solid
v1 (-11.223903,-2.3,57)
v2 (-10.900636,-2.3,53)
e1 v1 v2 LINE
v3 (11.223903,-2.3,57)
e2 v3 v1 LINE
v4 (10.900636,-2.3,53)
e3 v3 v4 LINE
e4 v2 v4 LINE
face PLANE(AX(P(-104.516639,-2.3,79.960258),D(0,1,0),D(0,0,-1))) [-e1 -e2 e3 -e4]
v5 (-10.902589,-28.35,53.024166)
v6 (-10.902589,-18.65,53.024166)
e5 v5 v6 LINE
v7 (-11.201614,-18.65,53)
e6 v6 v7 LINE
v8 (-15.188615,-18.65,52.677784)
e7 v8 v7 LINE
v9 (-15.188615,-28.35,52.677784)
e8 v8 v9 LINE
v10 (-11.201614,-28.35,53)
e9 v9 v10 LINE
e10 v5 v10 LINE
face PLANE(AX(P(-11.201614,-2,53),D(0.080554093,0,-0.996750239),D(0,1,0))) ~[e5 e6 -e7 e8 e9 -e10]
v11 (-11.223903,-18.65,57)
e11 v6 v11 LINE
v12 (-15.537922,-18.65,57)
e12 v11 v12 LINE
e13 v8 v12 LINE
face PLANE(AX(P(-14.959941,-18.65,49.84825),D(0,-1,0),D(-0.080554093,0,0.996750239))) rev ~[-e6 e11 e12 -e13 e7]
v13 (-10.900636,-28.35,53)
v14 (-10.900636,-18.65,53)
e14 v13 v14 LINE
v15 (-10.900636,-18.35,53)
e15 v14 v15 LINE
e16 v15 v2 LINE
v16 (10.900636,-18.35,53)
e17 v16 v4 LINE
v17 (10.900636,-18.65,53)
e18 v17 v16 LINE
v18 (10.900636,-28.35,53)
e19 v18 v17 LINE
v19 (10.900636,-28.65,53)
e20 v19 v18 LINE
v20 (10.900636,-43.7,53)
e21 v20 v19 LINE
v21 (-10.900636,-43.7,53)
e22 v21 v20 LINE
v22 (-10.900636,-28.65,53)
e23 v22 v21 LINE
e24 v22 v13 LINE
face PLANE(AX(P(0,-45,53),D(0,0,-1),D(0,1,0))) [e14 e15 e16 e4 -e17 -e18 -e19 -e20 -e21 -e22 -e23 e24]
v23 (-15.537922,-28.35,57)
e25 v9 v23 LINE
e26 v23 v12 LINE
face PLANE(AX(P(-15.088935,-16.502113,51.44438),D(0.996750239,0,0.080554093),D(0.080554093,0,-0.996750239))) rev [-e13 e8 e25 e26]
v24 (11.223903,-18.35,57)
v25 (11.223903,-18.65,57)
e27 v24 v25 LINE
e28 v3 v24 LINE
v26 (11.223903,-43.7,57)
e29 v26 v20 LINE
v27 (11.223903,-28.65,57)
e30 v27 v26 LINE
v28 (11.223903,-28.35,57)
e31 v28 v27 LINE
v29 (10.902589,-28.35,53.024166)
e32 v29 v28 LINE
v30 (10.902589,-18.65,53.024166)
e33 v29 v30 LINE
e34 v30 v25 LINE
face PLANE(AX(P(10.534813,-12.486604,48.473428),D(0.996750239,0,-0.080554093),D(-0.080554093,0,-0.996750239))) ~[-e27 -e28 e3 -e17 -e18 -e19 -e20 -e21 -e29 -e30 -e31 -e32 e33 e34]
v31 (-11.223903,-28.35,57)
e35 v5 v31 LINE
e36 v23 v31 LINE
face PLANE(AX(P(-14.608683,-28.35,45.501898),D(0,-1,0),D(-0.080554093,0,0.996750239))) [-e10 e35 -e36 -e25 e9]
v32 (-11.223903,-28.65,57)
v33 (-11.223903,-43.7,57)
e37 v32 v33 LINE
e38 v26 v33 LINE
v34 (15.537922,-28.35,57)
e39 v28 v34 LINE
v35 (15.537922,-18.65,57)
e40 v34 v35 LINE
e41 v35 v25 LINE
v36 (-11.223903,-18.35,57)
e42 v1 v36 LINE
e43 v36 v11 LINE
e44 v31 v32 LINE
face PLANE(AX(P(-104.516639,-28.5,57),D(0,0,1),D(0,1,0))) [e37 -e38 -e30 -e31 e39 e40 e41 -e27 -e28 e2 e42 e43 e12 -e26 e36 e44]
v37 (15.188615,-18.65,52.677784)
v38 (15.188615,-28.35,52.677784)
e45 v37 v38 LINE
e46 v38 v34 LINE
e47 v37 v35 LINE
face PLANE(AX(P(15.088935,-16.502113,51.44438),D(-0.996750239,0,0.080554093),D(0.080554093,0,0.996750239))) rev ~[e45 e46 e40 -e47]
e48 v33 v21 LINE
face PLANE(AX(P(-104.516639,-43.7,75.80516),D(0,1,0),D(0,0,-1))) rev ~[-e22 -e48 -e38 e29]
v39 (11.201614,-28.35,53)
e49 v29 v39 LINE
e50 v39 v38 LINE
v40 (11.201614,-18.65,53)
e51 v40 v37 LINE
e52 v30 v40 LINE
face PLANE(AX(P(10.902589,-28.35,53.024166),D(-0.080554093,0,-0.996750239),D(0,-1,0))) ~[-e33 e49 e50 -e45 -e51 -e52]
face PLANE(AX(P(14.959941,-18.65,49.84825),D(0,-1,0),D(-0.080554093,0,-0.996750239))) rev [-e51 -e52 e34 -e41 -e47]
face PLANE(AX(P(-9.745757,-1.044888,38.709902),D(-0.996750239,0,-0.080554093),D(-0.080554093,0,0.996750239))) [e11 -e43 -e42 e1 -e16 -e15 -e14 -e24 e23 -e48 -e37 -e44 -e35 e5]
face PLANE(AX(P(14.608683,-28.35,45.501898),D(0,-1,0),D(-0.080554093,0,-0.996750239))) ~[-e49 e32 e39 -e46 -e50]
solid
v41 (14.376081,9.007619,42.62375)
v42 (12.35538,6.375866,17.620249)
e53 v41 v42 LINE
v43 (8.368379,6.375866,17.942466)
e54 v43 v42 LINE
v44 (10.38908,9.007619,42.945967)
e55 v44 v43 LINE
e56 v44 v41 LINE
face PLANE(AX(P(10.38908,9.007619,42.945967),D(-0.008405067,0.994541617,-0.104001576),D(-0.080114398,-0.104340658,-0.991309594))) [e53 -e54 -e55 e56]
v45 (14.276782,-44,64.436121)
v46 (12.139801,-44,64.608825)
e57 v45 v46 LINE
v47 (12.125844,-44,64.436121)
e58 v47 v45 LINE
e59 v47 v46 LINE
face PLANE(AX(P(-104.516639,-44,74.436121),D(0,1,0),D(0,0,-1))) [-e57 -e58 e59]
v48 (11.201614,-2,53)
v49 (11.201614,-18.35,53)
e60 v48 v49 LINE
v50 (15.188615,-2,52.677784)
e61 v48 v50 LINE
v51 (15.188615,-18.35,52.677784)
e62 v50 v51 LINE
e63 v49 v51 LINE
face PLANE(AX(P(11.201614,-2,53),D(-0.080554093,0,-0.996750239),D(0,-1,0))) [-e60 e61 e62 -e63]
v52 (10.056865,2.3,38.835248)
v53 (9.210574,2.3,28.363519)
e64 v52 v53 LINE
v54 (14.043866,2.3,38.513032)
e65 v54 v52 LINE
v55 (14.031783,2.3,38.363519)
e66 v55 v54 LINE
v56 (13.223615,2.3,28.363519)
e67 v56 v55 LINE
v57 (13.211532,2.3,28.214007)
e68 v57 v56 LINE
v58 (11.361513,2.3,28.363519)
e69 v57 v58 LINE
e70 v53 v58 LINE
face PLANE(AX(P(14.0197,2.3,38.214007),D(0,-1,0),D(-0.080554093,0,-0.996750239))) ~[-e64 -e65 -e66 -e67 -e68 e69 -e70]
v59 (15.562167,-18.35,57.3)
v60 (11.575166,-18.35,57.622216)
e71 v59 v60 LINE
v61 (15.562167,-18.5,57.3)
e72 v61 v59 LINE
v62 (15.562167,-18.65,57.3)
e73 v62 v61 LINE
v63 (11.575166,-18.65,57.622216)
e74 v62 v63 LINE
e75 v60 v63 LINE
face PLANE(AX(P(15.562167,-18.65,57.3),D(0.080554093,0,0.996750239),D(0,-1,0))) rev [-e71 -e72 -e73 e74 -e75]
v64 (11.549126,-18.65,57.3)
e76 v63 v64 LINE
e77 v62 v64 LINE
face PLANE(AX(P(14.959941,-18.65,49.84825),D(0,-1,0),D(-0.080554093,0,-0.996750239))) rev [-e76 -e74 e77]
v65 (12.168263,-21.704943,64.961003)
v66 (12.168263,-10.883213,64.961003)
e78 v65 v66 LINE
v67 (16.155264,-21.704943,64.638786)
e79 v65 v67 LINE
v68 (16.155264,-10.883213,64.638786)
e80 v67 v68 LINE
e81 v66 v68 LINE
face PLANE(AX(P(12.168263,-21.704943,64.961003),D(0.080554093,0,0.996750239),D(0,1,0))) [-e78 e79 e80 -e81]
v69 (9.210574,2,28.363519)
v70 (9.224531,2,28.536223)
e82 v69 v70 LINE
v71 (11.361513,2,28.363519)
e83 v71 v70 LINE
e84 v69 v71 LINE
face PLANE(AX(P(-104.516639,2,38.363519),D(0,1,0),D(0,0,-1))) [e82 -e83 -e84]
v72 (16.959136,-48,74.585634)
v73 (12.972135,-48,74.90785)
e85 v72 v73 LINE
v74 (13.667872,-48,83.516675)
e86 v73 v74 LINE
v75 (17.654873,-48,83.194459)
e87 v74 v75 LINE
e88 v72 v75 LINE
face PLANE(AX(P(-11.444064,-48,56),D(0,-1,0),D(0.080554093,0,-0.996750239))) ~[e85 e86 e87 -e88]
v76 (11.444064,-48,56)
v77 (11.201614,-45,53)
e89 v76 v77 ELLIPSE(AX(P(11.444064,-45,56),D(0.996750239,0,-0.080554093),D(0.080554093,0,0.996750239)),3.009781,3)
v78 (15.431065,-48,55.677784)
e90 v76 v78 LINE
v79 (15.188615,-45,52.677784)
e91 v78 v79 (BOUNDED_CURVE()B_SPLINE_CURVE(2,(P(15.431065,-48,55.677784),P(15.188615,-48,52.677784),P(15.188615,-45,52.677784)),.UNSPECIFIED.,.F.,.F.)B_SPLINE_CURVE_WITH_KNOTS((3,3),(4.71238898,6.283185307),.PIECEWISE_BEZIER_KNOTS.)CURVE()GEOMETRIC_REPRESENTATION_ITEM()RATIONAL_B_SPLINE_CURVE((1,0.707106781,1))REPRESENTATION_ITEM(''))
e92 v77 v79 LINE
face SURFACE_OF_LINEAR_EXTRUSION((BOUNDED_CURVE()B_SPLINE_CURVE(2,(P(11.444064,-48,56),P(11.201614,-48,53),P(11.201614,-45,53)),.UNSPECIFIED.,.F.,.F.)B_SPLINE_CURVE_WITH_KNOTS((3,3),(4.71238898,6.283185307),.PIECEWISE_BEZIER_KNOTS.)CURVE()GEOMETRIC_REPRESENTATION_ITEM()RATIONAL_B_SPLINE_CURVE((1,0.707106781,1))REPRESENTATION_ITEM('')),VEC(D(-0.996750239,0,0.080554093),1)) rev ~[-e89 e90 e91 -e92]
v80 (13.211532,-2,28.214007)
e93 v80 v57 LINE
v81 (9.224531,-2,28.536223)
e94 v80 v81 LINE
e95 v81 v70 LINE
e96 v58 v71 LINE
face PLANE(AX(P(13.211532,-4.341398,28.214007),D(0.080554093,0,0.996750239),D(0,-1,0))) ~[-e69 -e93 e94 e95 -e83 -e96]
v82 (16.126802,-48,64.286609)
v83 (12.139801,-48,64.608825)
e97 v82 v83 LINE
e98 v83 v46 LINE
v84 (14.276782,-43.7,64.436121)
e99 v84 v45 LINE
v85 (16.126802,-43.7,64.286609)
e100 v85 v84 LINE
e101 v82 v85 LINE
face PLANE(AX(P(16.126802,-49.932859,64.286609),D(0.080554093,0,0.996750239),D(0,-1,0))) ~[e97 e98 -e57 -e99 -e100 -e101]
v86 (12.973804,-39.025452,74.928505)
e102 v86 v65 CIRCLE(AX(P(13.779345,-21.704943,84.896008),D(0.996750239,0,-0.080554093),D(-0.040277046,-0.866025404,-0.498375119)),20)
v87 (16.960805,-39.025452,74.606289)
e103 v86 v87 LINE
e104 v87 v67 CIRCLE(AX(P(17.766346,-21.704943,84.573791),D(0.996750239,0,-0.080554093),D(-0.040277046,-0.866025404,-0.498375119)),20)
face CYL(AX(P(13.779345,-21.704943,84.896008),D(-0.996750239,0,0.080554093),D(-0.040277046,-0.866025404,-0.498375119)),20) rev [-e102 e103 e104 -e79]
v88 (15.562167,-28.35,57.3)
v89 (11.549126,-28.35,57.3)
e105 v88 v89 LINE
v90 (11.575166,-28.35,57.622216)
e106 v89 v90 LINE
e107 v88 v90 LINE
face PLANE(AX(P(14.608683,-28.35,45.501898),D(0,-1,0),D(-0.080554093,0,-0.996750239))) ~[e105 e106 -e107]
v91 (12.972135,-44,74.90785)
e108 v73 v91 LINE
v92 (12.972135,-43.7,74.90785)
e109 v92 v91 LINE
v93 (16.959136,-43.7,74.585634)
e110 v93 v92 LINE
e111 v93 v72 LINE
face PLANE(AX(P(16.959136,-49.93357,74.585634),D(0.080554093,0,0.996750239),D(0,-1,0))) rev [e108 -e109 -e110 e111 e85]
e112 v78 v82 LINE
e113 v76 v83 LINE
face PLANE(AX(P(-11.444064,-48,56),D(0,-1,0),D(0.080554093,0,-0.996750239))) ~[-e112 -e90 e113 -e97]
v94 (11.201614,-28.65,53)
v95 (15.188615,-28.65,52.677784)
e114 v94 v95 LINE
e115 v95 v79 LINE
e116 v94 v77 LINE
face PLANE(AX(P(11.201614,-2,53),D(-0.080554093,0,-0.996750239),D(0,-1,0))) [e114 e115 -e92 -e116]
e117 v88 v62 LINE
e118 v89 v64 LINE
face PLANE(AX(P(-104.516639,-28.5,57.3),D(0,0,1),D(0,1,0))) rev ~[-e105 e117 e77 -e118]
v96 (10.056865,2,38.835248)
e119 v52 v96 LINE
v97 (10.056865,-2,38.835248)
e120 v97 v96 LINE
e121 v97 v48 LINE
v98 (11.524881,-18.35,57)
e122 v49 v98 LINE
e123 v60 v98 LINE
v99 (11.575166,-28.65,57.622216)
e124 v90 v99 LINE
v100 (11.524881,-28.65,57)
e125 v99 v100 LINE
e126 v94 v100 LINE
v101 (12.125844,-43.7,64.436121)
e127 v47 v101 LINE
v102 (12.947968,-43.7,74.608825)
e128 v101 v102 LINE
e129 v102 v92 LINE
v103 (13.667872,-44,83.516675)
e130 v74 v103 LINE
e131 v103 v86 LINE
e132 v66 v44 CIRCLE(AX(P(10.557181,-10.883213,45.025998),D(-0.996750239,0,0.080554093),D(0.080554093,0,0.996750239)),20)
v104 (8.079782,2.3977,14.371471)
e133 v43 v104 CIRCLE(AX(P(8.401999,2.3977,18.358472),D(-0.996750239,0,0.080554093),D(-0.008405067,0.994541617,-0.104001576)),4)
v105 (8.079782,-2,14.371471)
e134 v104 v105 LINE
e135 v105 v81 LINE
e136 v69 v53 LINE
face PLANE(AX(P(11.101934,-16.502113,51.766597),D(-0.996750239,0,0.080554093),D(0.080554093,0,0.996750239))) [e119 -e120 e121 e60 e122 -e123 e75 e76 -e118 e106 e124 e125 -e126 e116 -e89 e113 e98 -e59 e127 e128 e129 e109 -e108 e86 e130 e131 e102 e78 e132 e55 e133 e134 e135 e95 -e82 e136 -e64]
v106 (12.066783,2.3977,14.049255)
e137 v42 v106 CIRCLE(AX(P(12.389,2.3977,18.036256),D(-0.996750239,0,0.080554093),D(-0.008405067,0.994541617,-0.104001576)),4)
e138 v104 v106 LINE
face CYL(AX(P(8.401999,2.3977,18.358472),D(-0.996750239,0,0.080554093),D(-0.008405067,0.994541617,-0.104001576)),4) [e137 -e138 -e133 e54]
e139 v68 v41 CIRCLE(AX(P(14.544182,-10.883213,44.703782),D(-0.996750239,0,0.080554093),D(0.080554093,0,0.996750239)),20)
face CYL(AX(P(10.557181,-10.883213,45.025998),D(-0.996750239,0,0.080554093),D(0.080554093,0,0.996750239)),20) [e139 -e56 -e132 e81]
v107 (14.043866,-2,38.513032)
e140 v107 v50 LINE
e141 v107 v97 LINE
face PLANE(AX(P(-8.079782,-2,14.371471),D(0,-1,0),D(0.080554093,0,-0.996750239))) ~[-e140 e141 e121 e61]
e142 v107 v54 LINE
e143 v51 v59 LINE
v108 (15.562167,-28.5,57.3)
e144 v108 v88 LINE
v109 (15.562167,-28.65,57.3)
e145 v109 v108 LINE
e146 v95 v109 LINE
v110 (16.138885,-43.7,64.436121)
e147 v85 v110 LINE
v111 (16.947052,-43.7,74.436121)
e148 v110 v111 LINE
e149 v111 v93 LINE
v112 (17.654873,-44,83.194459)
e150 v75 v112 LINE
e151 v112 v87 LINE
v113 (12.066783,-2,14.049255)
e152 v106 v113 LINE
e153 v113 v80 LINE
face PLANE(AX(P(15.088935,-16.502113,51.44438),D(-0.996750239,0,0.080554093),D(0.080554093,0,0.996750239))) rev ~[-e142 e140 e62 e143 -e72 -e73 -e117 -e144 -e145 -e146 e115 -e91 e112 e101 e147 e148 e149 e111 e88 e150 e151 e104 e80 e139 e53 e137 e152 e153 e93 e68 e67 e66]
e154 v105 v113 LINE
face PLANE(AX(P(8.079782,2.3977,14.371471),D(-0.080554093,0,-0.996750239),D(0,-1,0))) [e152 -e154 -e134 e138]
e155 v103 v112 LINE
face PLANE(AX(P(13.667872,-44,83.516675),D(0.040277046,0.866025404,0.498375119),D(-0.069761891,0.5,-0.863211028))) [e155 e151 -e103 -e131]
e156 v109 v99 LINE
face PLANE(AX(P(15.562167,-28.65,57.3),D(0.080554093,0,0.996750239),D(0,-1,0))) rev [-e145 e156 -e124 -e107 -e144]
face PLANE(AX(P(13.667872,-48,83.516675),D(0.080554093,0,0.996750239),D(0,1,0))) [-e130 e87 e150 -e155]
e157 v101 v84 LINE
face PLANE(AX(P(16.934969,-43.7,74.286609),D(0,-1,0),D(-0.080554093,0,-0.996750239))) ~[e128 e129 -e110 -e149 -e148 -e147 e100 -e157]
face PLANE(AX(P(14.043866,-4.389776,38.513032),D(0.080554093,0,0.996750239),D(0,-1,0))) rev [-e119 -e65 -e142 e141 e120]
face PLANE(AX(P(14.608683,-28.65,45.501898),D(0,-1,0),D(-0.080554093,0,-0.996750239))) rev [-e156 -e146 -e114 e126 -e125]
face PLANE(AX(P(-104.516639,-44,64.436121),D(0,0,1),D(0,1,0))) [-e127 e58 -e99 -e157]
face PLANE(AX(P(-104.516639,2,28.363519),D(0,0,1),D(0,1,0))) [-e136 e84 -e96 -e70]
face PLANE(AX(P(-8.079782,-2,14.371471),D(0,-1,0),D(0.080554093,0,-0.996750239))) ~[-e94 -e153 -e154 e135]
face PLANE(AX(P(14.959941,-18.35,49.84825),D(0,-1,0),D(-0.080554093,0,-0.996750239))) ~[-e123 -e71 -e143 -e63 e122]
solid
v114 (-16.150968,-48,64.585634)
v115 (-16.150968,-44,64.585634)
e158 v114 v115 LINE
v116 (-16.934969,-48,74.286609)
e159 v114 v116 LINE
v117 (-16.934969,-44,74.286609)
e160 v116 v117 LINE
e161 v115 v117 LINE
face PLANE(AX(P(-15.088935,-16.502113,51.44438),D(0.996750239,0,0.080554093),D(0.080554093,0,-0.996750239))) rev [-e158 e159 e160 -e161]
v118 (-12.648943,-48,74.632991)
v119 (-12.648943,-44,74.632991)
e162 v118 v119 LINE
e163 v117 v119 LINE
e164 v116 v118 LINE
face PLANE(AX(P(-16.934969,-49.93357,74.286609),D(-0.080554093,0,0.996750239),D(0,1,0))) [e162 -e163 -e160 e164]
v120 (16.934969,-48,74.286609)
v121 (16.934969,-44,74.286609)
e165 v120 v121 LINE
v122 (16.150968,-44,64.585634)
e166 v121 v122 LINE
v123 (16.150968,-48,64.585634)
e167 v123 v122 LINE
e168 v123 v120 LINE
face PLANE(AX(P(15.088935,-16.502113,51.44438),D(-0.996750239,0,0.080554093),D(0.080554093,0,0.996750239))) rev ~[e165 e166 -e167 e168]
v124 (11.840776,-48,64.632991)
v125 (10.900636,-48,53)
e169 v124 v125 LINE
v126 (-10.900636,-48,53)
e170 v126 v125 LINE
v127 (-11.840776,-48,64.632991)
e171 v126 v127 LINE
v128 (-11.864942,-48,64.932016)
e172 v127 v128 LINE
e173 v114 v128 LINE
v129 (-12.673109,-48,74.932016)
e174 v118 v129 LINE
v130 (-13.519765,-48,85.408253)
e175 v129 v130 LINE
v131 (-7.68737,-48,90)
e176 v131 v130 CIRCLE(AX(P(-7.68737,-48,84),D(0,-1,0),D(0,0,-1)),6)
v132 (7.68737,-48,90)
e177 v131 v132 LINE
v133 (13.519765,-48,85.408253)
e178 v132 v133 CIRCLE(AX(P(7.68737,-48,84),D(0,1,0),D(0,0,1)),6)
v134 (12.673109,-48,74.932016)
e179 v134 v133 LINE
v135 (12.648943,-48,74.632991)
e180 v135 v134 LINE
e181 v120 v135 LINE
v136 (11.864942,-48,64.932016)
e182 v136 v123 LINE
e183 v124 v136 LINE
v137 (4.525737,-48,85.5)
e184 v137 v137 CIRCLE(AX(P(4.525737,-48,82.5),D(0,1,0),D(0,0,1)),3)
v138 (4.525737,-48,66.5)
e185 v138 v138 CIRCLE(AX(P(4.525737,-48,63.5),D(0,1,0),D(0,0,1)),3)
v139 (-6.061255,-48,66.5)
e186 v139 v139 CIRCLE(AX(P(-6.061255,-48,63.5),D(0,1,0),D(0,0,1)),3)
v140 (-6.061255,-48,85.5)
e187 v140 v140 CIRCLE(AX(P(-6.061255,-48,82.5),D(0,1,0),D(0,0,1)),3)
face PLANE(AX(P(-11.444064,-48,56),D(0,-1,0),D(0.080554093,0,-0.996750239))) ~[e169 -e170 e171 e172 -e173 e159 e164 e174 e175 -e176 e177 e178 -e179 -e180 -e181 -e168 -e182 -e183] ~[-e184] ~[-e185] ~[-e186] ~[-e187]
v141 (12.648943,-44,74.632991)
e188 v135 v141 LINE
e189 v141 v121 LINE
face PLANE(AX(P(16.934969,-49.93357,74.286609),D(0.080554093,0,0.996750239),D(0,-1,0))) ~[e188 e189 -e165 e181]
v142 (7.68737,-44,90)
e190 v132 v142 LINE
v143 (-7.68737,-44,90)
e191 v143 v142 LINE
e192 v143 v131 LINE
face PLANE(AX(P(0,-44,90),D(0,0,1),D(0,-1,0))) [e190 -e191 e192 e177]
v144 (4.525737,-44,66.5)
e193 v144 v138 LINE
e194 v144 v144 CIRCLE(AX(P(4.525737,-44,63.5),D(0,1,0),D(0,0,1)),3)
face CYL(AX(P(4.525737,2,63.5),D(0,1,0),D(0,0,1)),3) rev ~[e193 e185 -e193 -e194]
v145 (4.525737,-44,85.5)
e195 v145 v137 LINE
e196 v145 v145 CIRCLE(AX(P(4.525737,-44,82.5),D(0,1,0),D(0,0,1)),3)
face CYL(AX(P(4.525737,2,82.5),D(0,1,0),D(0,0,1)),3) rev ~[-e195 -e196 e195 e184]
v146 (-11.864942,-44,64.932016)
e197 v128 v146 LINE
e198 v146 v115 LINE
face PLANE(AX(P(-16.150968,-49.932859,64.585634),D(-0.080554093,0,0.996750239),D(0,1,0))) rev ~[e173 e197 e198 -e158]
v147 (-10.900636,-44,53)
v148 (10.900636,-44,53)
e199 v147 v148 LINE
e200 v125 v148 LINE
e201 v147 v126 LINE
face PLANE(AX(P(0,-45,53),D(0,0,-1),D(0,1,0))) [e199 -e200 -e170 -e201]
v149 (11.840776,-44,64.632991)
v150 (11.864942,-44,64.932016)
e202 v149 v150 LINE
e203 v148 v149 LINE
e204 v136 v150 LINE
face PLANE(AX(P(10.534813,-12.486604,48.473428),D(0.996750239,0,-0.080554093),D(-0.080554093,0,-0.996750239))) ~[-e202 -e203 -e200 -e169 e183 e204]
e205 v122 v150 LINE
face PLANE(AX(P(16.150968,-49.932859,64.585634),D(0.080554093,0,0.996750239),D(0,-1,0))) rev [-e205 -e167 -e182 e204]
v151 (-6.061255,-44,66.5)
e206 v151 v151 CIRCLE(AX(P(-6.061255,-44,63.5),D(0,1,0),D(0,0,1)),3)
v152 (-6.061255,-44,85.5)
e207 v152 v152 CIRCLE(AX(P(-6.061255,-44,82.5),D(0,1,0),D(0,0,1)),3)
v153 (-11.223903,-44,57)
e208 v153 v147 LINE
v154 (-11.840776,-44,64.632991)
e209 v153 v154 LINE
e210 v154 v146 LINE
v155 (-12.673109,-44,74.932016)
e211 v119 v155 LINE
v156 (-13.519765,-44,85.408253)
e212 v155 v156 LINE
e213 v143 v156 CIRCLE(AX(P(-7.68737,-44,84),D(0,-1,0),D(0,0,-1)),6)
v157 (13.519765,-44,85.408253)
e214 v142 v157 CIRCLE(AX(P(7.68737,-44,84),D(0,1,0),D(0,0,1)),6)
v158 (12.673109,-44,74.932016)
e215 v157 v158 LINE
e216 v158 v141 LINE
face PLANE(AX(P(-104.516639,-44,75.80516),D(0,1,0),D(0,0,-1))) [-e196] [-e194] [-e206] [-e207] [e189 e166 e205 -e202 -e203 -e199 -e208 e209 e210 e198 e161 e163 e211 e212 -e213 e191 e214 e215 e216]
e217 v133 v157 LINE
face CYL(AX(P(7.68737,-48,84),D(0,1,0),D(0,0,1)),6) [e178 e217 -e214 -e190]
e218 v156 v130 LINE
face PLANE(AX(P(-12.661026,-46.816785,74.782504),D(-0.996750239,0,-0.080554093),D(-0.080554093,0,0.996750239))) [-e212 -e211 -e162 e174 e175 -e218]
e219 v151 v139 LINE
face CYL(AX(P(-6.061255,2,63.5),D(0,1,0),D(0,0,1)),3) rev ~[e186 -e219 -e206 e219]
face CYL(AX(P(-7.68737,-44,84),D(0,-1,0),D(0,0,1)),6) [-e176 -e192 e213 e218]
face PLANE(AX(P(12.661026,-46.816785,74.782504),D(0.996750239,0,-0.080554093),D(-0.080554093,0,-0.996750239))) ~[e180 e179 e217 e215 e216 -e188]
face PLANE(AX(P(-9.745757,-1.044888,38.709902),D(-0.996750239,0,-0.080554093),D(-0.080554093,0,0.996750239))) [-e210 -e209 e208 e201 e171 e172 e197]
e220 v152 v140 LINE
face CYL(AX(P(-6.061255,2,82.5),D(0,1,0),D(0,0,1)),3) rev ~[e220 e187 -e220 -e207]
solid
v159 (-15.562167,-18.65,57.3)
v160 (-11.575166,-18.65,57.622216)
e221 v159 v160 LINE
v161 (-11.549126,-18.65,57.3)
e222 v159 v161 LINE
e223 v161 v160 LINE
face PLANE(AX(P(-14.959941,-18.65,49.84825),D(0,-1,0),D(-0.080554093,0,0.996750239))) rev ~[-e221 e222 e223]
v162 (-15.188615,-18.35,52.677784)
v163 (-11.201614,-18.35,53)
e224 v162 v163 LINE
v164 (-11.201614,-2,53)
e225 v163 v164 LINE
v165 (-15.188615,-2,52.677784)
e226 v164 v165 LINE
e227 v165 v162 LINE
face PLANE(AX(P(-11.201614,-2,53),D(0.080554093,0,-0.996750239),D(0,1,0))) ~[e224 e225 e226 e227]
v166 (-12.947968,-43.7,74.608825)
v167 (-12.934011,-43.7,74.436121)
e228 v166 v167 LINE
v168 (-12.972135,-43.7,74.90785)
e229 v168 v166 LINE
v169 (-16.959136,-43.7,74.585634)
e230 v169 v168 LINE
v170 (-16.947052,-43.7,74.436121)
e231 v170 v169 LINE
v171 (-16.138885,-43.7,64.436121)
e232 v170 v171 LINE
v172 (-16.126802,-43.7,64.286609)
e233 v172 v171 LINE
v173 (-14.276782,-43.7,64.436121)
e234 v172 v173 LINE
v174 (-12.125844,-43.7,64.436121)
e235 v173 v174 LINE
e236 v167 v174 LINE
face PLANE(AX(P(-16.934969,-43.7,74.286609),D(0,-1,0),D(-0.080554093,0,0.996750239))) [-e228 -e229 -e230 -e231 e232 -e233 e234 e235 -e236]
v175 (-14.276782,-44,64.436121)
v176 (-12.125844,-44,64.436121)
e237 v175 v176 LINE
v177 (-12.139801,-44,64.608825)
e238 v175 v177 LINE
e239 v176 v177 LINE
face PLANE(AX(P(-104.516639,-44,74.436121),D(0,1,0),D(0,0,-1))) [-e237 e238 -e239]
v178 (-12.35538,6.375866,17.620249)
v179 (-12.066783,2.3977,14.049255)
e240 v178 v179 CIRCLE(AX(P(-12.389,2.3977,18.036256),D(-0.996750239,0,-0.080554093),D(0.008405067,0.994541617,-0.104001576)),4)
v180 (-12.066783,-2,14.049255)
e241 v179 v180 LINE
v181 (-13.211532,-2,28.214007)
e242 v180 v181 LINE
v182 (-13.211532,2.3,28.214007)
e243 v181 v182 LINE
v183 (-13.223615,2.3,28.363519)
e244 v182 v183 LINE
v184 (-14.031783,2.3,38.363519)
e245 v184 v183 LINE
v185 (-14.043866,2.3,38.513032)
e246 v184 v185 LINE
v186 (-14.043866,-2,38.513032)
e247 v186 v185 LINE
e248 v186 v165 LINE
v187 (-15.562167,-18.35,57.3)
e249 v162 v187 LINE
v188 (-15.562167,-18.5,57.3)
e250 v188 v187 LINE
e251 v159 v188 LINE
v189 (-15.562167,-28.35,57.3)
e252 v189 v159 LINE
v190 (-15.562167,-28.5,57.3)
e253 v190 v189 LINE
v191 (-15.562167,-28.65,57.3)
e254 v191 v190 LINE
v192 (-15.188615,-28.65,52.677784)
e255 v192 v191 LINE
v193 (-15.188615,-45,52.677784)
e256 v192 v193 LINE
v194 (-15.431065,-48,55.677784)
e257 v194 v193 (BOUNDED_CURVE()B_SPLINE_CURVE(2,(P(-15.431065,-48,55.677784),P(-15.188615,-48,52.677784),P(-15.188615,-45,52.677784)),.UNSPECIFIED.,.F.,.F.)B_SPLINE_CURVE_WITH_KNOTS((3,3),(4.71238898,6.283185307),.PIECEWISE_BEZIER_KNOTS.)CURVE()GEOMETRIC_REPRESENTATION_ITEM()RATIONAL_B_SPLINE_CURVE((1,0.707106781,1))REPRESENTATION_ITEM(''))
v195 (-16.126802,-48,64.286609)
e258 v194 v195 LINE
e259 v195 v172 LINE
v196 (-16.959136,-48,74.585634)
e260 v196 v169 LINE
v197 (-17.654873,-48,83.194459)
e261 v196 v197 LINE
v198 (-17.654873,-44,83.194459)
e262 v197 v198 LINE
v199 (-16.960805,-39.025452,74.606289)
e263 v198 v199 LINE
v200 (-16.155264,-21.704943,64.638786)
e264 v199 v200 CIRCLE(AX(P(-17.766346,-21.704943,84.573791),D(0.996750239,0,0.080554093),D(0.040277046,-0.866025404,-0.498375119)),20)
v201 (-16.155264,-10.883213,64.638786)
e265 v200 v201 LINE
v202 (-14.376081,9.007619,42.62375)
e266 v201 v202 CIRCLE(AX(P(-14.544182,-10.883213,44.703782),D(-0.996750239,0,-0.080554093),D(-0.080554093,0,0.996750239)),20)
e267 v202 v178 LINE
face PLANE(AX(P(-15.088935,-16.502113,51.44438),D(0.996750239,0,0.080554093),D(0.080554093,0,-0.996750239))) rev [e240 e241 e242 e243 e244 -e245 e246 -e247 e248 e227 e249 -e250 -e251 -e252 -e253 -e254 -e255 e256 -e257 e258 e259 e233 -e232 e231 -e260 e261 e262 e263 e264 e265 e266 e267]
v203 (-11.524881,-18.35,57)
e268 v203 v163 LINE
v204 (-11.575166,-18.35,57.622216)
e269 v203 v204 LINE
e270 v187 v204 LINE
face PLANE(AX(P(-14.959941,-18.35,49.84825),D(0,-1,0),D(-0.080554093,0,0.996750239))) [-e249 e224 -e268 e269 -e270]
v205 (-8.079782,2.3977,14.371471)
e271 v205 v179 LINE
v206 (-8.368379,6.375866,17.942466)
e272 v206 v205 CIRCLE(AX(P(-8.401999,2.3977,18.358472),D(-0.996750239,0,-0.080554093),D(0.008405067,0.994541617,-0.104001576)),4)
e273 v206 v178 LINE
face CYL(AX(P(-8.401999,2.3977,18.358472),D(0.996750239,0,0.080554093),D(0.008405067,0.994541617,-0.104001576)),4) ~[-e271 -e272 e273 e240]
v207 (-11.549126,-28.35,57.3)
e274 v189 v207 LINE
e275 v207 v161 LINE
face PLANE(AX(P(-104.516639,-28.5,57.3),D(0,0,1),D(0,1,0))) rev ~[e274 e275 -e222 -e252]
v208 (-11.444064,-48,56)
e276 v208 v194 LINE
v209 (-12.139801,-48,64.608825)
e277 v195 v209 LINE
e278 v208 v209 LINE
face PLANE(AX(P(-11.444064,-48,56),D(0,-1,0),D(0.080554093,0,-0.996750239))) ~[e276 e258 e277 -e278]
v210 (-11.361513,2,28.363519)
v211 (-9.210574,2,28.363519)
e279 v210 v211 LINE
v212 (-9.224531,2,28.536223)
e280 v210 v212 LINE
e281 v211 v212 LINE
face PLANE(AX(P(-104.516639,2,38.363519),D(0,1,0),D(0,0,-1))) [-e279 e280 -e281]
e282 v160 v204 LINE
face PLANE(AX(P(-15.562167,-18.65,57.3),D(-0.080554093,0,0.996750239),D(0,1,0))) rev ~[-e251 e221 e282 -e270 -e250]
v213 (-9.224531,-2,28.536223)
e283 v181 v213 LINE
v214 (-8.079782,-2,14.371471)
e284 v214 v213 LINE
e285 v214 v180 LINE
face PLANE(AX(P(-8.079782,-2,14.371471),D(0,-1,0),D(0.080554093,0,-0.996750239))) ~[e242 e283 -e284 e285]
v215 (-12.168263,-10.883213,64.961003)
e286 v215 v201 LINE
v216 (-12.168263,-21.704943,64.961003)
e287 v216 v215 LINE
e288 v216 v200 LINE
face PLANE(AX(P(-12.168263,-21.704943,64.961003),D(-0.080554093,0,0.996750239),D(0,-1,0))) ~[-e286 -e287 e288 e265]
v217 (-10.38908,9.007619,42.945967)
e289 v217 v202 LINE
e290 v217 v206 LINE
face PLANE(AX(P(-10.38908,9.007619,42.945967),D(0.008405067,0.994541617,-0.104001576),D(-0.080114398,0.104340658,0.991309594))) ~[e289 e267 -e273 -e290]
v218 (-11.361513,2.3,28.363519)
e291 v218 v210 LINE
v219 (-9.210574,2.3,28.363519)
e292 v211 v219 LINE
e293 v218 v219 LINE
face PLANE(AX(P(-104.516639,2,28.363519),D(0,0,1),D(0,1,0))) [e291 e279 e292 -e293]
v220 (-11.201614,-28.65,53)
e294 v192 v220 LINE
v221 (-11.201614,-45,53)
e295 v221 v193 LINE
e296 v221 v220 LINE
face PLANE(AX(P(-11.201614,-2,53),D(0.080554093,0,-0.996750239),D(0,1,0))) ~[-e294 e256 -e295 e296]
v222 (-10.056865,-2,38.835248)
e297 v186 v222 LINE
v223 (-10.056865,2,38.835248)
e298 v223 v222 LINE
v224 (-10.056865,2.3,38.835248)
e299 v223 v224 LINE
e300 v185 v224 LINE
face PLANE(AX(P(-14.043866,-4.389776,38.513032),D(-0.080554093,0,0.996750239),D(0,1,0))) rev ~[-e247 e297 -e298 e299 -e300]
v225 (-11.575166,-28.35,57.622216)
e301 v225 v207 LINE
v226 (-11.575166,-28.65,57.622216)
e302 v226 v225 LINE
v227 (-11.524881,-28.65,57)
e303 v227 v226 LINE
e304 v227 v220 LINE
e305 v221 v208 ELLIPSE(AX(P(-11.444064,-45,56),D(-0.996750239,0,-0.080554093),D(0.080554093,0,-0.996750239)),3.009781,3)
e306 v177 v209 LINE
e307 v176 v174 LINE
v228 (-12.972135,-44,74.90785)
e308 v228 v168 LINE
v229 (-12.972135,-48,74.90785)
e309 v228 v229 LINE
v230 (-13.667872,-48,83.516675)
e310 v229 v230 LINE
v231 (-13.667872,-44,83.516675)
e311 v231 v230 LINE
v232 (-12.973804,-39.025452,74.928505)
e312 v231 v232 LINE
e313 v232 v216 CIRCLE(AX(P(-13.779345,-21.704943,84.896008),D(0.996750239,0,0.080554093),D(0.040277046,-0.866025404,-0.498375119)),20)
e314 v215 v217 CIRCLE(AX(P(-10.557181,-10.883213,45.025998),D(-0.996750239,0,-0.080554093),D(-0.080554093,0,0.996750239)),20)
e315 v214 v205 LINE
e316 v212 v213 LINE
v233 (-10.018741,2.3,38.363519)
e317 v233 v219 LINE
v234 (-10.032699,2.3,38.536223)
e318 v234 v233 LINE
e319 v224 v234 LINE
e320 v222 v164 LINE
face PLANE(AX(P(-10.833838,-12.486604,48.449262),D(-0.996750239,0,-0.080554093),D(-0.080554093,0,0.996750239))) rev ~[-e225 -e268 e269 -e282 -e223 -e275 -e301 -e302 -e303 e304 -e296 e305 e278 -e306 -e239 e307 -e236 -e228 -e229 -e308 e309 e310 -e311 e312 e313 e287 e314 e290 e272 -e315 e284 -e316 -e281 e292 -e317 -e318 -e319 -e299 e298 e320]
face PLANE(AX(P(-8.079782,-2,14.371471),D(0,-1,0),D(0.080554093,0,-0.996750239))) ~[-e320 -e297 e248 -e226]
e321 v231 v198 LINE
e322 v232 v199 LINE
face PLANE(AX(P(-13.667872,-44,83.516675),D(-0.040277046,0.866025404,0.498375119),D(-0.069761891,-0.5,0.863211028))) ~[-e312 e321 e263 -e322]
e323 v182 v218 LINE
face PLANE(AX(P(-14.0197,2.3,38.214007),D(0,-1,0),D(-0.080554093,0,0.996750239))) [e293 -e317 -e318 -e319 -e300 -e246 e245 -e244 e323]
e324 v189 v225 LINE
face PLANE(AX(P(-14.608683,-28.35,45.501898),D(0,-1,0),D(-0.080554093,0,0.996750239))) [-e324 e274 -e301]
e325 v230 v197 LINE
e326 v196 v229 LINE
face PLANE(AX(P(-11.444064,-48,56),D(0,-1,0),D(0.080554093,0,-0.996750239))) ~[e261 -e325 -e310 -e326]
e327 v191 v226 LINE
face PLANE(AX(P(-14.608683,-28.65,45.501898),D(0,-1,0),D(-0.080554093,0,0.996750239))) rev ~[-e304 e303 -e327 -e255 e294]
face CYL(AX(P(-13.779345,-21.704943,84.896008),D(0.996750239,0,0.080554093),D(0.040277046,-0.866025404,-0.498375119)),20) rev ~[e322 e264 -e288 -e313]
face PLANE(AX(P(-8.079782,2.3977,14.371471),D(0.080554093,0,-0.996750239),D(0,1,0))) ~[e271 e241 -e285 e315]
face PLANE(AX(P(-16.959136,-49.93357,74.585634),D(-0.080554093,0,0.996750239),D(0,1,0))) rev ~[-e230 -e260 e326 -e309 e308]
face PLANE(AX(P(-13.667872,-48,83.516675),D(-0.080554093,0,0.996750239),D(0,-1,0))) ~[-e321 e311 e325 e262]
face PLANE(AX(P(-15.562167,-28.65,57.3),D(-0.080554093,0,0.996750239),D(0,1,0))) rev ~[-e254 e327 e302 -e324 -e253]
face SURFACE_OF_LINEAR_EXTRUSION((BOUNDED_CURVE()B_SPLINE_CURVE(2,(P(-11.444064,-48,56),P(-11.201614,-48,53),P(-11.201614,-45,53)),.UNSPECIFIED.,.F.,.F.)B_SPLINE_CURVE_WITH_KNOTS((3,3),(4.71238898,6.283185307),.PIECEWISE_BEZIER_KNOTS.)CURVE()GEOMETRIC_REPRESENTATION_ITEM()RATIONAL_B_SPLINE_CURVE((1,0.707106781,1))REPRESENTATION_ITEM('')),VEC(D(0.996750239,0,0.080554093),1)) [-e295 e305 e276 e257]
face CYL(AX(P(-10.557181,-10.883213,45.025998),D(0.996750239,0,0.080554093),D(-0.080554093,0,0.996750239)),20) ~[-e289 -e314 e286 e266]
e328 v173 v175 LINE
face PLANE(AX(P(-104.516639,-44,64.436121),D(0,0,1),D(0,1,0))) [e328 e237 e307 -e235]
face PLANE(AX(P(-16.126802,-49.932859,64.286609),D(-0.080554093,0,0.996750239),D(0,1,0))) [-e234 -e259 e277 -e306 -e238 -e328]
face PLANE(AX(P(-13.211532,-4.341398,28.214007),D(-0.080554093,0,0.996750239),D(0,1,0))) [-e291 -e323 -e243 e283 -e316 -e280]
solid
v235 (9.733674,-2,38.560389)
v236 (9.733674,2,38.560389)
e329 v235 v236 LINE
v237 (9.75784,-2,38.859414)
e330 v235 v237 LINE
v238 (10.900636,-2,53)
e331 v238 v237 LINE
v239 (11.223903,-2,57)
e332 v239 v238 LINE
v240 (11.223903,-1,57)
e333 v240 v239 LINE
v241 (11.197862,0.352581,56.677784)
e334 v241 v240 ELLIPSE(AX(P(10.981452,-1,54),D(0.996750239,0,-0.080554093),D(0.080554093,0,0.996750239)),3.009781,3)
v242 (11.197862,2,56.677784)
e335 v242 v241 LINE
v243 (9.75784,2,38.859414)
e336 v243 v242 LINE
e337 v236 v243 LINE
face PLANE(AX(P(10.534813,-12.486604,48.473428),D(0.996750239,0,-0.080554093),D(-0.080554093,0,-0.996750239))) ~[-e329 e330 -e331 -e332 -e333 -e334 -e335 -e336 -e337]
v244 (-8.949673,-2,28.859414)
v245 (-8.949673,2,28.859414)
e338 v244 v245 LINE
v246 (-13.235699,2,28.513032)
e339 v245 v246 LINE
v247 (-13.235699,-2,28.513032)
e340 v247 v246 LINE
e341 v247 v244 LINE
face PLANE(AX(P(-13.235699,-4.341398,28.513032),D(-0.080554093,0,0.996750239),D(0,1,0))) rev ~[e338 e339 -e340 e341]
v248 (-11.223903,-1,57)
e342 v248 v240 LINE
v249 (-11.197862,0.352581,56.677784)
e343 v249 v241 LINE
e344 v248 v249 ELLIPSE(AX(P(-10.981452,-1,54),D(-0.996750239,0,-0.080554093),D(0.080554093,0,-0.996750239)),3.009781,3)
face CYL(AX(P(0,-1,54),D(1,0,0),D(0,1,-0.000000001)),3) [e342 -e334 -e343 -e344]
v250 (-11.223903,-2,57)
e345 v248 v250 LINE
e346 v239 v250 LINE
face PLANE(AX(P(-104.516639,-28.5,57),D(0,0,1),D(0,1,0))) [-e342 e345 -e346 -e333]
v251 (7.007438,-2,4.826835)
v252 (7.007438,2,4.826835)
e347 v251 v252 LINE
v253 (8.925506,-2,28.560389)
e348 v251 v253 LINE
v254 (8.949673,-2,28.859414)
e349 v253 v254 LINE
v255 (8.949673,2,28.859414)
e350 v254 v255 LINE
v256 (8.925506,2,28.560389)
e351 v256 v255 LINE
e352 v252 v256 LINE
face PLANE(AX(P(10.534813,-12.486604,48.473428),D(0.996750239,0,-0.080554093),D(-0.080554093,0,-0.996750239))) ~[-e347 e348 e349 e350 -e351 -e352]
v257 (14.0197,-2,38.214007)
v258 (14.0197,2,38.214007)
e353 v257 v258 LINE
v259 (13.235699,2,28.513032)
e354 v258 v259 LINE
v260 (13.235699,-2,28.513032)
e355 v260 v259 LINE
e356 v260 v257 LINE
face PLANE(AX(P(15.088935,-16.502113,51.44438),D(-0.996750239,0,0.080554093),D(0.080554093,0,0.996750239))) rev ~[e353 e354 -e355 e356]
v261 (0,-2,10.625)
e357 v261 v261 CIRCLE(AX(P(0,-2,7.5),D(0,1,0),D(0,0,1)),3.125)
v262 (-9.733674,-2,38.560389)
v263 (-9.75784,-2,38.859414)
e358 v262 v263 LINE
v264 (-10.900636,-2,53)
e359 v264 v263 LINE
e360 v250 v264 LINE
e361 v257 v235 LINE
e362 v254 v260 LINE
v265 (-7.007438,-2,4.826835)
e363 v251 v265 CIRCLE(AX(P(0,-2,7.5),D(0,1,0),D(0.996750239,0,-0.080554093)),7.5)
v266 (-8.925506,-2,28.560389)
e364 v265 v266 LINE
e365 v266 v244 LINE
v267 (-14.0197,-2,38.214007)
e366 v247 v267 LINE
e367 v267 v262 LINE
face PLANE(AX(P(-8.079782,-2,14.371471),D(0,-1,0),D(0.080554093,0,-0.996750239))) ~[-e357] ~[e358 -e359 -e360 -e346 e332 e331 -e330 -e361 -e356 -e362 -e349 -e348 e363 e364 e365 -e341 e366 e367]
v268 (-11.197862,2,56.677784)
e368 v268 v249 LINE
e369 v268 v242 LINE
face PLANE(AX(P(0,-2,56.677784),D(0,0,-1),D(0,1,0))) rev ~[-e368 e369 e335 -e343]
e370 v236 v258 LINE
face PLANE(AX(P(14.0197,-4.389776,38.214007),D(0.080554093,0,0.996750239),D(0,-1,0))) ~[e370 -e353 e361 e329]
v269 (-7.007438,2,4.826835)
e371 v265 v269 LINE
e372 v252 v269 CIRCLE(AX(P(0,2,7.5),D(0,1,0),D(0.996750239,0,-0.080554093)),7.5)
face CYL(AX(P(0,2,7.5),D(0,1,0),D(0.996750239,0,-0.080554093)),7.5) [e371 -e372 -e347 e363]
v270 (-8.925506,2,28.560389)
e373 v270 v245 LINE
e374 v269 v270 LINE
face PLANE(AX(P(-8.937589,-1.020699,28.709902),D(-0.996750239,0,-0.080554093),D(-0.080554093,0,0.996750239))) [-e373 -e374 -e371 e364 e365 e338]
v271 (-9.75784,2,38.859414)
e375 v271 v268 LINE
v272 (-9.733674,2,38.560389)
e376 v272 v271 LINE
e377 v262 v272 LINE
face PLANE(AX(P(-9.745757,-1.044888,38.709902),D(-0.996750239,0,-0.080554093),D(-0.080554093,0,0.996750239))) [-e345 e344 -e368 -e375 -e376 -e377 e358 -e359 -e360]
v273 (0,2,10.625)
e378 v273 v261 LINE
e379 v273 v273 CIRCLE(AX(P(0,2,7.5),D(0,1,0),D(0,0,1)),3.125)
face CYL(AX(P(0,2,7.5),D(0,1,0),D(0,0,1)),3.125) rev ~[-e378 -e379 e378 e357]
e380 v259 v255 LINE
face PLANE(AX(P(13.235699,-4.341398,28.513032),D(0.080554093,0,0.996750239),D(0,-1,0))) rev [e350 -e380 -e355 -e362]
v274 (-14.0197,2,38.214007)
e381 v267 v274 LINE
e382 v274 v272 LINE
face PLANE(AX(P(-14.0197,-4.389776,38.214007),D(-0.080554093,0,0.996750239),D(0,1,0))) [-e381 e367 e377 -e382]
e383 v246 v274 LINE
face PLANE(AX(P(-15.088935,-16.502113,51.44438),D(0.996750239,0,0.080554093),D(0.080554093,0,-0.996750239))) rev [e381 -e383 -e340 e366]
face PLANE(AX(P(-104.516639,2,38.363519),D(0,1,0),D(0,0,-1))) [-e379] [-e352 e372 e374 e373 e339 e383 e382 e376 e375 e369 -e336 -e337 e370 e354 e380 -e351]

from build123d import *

# Parameters (mm, degrees)
EXTRUDE_THIN1_DEPTH             = 15
SKETCH2_R                       = 3.125
SKETCH2_R_2                     = 3
CUT_EXTRUDE1_DEPTH              = 105.043260233
FILLET1_R                       = 6
BOSS_EXTRUDE1_DEPTH             = 4
CUT_EXTRUDE_THIN1_DEPTH         = 104.516638951
CUT_EXTRUDE_THIN1_DEPTH_BACK    = 104.516638951
SKETCH9_W                       = 10
SKETCH9_H                       = 0.3
SKETCH9_W_2                     = 0.3
SKETCH9_H_2                     = 10
SKETCH10_W                      = 0.3
SKETCH10_H                      = 6.641398284
SKETCH10_H_2                    = 6.68977618
SKETCH10_H_3                    = 6.232858904
SKETCH10_W_2                    = 7.476045761
SKETCH10_H_4                    = 0.3
SKETCH10_W_3                    = 11.836568253
SKETCH10_H_5                    = 6.233569927
CUT_EXTRUDE_THIN2_DEPTH         = 4.3
SKETCH11_R                      = 56.701195511
SKETCH11_W                      = 9.732603568
SKETCH11_H                      = 4
SKETCH11_W_2                    = 4.336308338
SKETCH11_H_2                    = 9.7
CUT_EXTRUDE2_DEPTH              = 0.3
BOSS_EXTRUDE2_REACH             = 105.517
SKETCH12_W                      = 4
SKETCH12_H                      = 4
BOSS_EXTRUDE2_DIRECTION_2_REACH = 105.517
CUT_EXTRUDE3_DEPTH              = 0.3
CUT_EXTRUDE4_DEPTH              = 0.3
CUT_EXTRUDE_THIN3_DEPTH         = 104.516638951
CUT_EXTRUDE_THIN3_DEPTH_BACK    = 104.516638951
SKETCH13_W                      = 26.058456106
SKETCH13_H                      = 0.3
SKETCH13_W_2                    = 36.049711327


with BuildPart() as part:
    # Sketch1 → Extrude-Thin1 (new, symmetric)
    with BuildSketch(Plane(origin=(0, 0, 0), x_dir=(0, 0, -1), z_dir=(1, 0, 0))):
        with BuildLine():
            Line((0, 2), (-54, 2))
            ThreePointArc((-54, 2), (-56.121320344, 1.121320344), (-57, -1))
            Line((-57, -1), (-57, -44))
            Line((-57, -44), (-90, -44))
            Line((-90, -44), (-90, -48))
            Line((-90, -48), (-56, -48))
            ThreePointArc((-56, -48), (-53.878679656, -47.121320344), (-53, -45))
            Line((-53, -45), (-53, -2))
            Line((-53, -2), (0, -2))
            Line((0, -2), (0, 2))
        make_face()
    extrude(amount=EXTRUDE_THIN1_DEPTH, both=True)

    # Sketch2 → Cut-Extrude1 (cut, through all)
    with BuildSketch(Plane(origin=(0, 2, 0), x_dir=(1, 0, 0), z_dir=(0, 1, 0))):
        with Locations(Location((0, -7.5, 0), (0, 0, 270))):
            Circle(SKETCH2_R)
        with Locations(Location((-6.061254587, -82.5, 0), (0, 0, 270))):
            Circle(SKETCH2_R_2)
        with Locations(Location((-6.061254587, -63.5, 0), (0, 0, 270))):
            Circle(SKETCH2_R_2)
        with Locations(Location((4.525736758, -82.5, 0), (0, 0, 270))):
            Circle(SKETCH2_R_2)
        with Locations(Location((4.525736758, -63.5, 0), (0, 0, 270))):
            Circle(SKETCH2_R_2)
        with BuildLine():
            Line((-7.475626789, -6.895844304), (-15, -100))
            Line((-15, -100), (-17.60021431, 8.448336275))
            Line((-17.60021431, 8.448336275), (38.426582869, 9.42947631))
            Line((38.426582869, 9.42947631), (15, -100))
            Line((15, -100), (7.475626789, -6.895844304))
            ThreePointArc((7.475626789, -6.895844304), (0, 0), (-7.475626789, -6.895844304))
        make_face()
    extrude(amount=-CUT_EXTRUDE1_DEPTH, mode=Mode.SUBTRACT)

    # Fillet1
    fillet1_edges = [part.edges().sort_by_distance(p)[0] for p in [
        (-14.191832722, -46, 90),
        (14.191832722, -46, 90),
    ]]
    fillet(fillet1_edges, radius=FILLET1_R)

    # Sketch8 → Boss-Extrude1 (add)
    with BuildSketch(Plane(origin=(6.873434456, 0, -0.555488482), x_dir=(-0.08055409274536145, 0, -0.9967502385963958), z_dir=(0.9967502385963958, 0, -0.08055409274536145))):
        with BuildLine():
            Line((-56.739879552, -48), (-84.346269175, -48))
            Line((-84.346269175, -48), (-84.346269175, -44))
            Line((-84.346269175, -44), (-75.730098482, -39.025451531))
            ThreePointArc((-75.730098482, -39.025451531), (-68.409590406, -31.704943455), (-65.730098482, -21.704943455))
            Line((-65.730098482, -21.704943455), (-65.730098482, -10.883213246))
            ThreePointArc((-65.730098482, -10.883213246), (-59.11411389, 3.978419624), (-43.643285327, 9.007619086))
            Line((-43.643285327, 9.007619086), (-18.558264158, 6.375866362))
            ThreePointArc((-18.558264158, 6.375866362), (-16.003300216, 5.074502978), (-14.975626789, 2.397699896))
            Line((-14.975626789, 2.397699896), (-14.975626789, 2))
            Line((-14.975626789, 2), (-14.975626789, -2))
            Line((-14.975626789, -2), (-53.730098482, -2))
            Line((-53.730098482, -2), (-53.730098482, -45))
            add(Edge.make_bspline(
                [(-56.739879552, -48), (-53.730098482, -48), (-53.730098482, -45)],
                knots=[4.71238898, 4.71238898, 4.71238898, 6.283185307, 6.283185307, 6.283185307], degree=2, weights=[1, 0.707106781, 1]))
        make_face()
    boss_extrude1 = extrude(amount=BOSS_EXTRUDE1_DEPTH)

    # Mirror1: Boss-Extrude1 across plane
    add(boss_extrude1.mirror(Plane(origin=(0, 0, 0), x_dir=(0, 0, 1), z_dir=(1, 0, 0))))

    # Sketch9 → Cut-Extrude-Thin1 (cut, two sides: drawn at the far end of the back side and taken through both)
    with BuildSketch(Plane(origin=(0, 0, 0), x_dir=(0, 0, -1), z_dir=(1, 0, 0)).offset(-CUT_EXTRUDE_THIN1_DEPTH_BACK)):
        with Locations((-33.363519176, 2.15)):
            Rectangle(SKETCH9_W, SKETCH9_H)
        with Locations((-57.15, -23.5)):
            Rectangle(SKETCH9_W_2, SKETCH9_H_2)
        with Locations((-69.436121351, -43.85)):
            Rectangle(SKETCH9_W, SKETCH9_H)
    extrude(amount=CUT_EXTRUDE_THIN1_DEPTH + CUT_EXTRUDE_THIN1_DEPTH_BACK, mode=Mode.SUBTRACT)

    # Sketch10 → Cut-Extrude-Thin2 (cut)
    with BuildSketch(Plane(origin=(-10.86043541, 0, -0.877704853), x_dir=(-0.08055409274536145, 0, 0.9967502385963957), z_dir=(-0.9967502385963957, 0, -0.08055409274536145))):
        with Locations((29.336560852, -1.020699142)):
            Rectangle(SKETCH10_W, SKETCH10_H)
        with Locations((39.36916442, -1.04488809)):
            Rectangle(SKETCH10_W, SKETCH10_H_2)
        with Locations((65.52677258, -46.816429452)):
            Rectangle(SKETCH10_W, SKETCH10_H_3)
        with Locations((54.629362047, -18.5)):
            Rectangle(SKETCH10_W_2, SKETCH10_H_4)
        with Locations((52.449100801, -28.5)):
            Rectangle(SKETCH10_W_3, SKETCH10_H_4)
        with Locations((75.559376148, -46.816784963)):
            Rectangle(SKETCH10_W, SKETCH10_H_5)
    cut_extrude_thin2 = extrude(amount=-CUT_EXTRUDE_THIN2_DEPTH, mode=Mode.SUBTRACT)

    # Sketch11 → Cut-Extrude2 (cut)
    with BuildSketch(Plane(origin=(-6.574409384, 0, -0.531322254), x_dir=(-0.08055409274536145, 0, 0.9967502385963957), z_dir=(-0.9967502385963957, 0, -0.08055409274536145))):
        with Locations((49.164522952, -12.48660382)):
            Circle(SKETCH11_R)
        with Locations((34.352862636, 0)):
            Rectangle(SKETCH11_W, SKETCH11_H, mode=Mode.SUBTRACT)
        with Locations((55.898252651, -23.5)):
            Rectangle(SKETCH11_W_2, SKETCH11_H_2, mode=Mode.SUBTRACT)
        with Locations((70.543074364, -46)):
            Rectangle(SKETCH11_W, SKETCH11_H, mode=Mode.SUBTRACT)
    cut_extrude2 = extrude(amount=CUT_EXTRUDE2_DEPTH, mode=Mode.SUBTRACT)

    # Mirror2: Cut-Extrude-Thin2 across plane
    add(cut_extrude_thin2.mirror(Plane(origin=(0, 0, 0), x_dir=(0, 0, 1), z_dir=(1, 0, 0))), mode=Mode.SUBTRACT)

    # Mirror3: Cut-Extrude2 across plane
    add(cut_extrude2.mirror(Plane(origin=(0, 0, 0), x_dir=(0, 0, 1), z_dir=(1, 0, 0))), mode=Mode.SUBTRACT)

    # Boss-Extrude2: up to this plane
    boss_extrude2_end = Plane(origin=(-6.574409384, 0, -0.531322254), z_dir=(0.9967502385963957, 0, 0.08055409274536145))
    # Sketch12 → Boss-Extrude2 (add, up to the surface)
    with BuildSketch(Plane(origin=(0, 0, 0), x_dir=(0, 0, -1), z_dir=(1, 0, 0)), mode=Mode.PRIVATE) as boss_extrude2_sk1:
        with Locations((-54.677783629, 0)):
            Rectangle(SKETCH12_W, SKETCH12_H)
    boss_extrude2_tool1 = split(extrude(boss_extrude2_sk1.sketch, amount=-BOSS_EXTRUDE2_REACH, mode=Mode.PRIVATE), bisect_by=boss_extrude2_end, keep=Keep.BOTH, mode=Mode.PRIVATE)
    add(boss_extrude2_tool1.solids().sort_by_distance((0, 0, 54.677784))[0])
    # Sketch12 → Boss-Extrude2 (add, up to the surface)
    with BuildSketch(Plane(origin=(0, 0, 0), x_dir=(0, 0, -1), z_dir=(1, 0, 0)), mode=Mode.PRIVATE) as boss_extrude2_sk2:
        with Locations((-55, -46)):
            Rectangle(SKETCH12_W, SKETCH12_H)
    boss_extrude2_tool2 = split(extrude(boss_extrude2_sk2.sketch, amount=-BOSS_EXTRUDE2_REACH, mode=Mode.PRIVATE), bisect_by=boss_extrude2_end, keep=Keep.BOTH, mode=Mode.PRIVATE)
    add(boss_extrude2_tool2.solids().sort_by_distance((0, -46, 55))[0])

    # Boss-Extrude2 direction 2: up to this plane
    boss_extrude2_direction_2_end = Plane(origin=(6.574409384, 0, -0.531322254), z_dir=(-0.9967502385963957, 0, 0.08055409274536145))
    # Sketch12 → Boss-Extrude2 direction 2 (add, up to the surface)
    with BuildSketch(Plane(origin=(0, 0, 0), x_dir=(0, 0, -1), z_dir=(1, 0, 0)), mode=Mode.PRIVATE) as boss_extrude2_direction_2_sk1:
        with Locations((-54.677783629, 0)):
            Rectangle(SKETCH12_W, SKETCH12_H)
    boss_extrude2_direction_2_tool1 = split(extrude(boss_extrude2_direction_2_sk1.sketch, amount=BOSS_EXTRUDE2_DIRECTION_2_REACH, mode=Mode.PRIVATE), bisect_by=boss_extrude2_direction_2_end, keep=Keep.BOTH, mode=Mode.PRIVATE)
    add(boss_extrude2_direction_2_tool1.solids().sort_by_distance((0, 0, 54.677784))[0])
    # Sketch12 → Boss-Extrude2 direction 2 (add, up to the surface)
    with BuildSketch(Plane(origin=(0, 0, 0), x_dir=(0, 0, -1), z_dir=(1, 0, 0)), mode=Mode.PRIVATE) as boss_extrude2_direction_2_sk2:
        with Locations((-55, -46)):
            Rectangle(SKETCH12_W, SKETCH12_H)
    boss_extrude2_direction_2_tool2 = split(extrude(boss_extrude2_direction_2_sk2.sketch, amount=BOSS_EXTRUDE2_DIRECTION_2_REACH, mode=Mode.PRIVATE), bisect_by=boss_extrude2_direction_2_end, keep=Keep.BOTH, mode=Mode.PRIVATE)
    add(boss_extrude2_direction_2_tool2.solids().sort_by_distance((0, -46, 55))[0])

    # Sketch14 → Cut-Extrude3 (cut)
    with BuildSketch(Plane(origin=(0, -44, 0), x_dir=(1, 0, 0), z_dir=(0, 1, 0))):
        Polygon((-6.486159071, -72.877526277), (-16.895928913, -72.553711619), (-16.959135518, -74.585633887), (-6.549365677, -74.909448545), align=None)
        Polygon((6.549365677, -74.909448545), (16.959135518, -74.585633887), (16.895928913, -72.553711619), (6.486159071, -72.877526277), align=None)
    extrude(amount=CUT_EXTRUDE3_DEPTH, mode=Mode.SUBTRACT)

    # Sketch15 → Cut-Extrude4 (cut)
    with BuildSketch(Plane(origin=(0, 2, 0), x_dir=(1, 0, 0), z_dir=(0, 1, 0))):
        Polygon((14.263002683, -38.29994084), (-15.974696203, -38.054570408), (0.914390447, -39.969172337), align=None)
    extrude(amount=CUT_EXTRUDE4_DEPTH, mode=Mode.SUBTRACT)


with BuildPart() as cut_extrude4_piece_1:
    # of the separate pieces the step leaves, piece 1, a body of its own (cut_extrude4_pieces)
    add(part.part.solids().sort_by_distance((-7.687370214, -48, 90))[0])

    # Sketch13 → Cut-Extrude-Thin3 (cut, two sides: drawn at the far end of the back side and taken through both)
    with BuildSketch(Plane(origin=(0, 0, 0), x_dir=(0, 0, -1), z_dir=(1, 0, 0)).offset(-CUT_EXTRUDE_THIN3_DEPTH_BACK)):
        with Locations((-62.775931951, -43.85)):
            Rectangle(SKETCH13_W, SKETCH13_H)
        with Locations((-61.935402371, -2.15)):
            Rectangle(SKETCH13_W_2, SKETCH13_H)
    extrude(amount=CUT_EXTRUDE_THIN3_DEPTH + CUT_EXTRUDE_THIN3_DEPTH_BACK, mode=Mode.SUBTRACT)


with BuildPart() as cut_extrude4_piece_2:
    # of the separate pieces the step leaves, piece 2, a body of its own (cut_extrude4_pieces)
    add(part.part.solids().sort_by_distance((-11.201613792, -28.65, 53))[0])


with BuildPart() as cut_extrude4_piece_3:
    # of the separate pieces the step leaves, piece 3, a body of its own (cut_extrude4_pieces)
    add(part.part.solids().sort_by_distance((14.043865846, 2.3, 38.513031712))[0])


with BuildPart() as cut_extrude_thin3_piece_1:
    # of the separate pieces the step leaves, piece 1, a body of its own (cut_extrude_thin3_pieces)
    add(cut_extrude4_piece_1.part.solids().sort_by_distance((-9.733673592, -2, 38.560389239))[0])


with BuildPart() as cut_extrude_thin3_piece_2:
    # of the separate pieces the step leaves, piece 2, a body of its own (cut_extrude_thin3_pieces)
    add(cut_extrude4_piece_1.part.solids().sort_by_distance((-10.900635685, -43.7, 53))[0])


with BuildPart() as cut_extrude_thin3_piece_3:
    # of the separate pieces the step leaves, piece 3, a body of its own (cut_extrude_thin3_pieces)
    add(cut_extrude4_piece_1.part.solids().sort_by_distance((-7.687370214, -48, 90))[0])


solid = Compound([cut_extrude4_piece_2.part, cut_extrude4_piece_3.part, cut_extrude_thin3_piece_1.part, cut_extrude_thin3_piece_2.part, cut_extrude_thin3_piece_3.part])
